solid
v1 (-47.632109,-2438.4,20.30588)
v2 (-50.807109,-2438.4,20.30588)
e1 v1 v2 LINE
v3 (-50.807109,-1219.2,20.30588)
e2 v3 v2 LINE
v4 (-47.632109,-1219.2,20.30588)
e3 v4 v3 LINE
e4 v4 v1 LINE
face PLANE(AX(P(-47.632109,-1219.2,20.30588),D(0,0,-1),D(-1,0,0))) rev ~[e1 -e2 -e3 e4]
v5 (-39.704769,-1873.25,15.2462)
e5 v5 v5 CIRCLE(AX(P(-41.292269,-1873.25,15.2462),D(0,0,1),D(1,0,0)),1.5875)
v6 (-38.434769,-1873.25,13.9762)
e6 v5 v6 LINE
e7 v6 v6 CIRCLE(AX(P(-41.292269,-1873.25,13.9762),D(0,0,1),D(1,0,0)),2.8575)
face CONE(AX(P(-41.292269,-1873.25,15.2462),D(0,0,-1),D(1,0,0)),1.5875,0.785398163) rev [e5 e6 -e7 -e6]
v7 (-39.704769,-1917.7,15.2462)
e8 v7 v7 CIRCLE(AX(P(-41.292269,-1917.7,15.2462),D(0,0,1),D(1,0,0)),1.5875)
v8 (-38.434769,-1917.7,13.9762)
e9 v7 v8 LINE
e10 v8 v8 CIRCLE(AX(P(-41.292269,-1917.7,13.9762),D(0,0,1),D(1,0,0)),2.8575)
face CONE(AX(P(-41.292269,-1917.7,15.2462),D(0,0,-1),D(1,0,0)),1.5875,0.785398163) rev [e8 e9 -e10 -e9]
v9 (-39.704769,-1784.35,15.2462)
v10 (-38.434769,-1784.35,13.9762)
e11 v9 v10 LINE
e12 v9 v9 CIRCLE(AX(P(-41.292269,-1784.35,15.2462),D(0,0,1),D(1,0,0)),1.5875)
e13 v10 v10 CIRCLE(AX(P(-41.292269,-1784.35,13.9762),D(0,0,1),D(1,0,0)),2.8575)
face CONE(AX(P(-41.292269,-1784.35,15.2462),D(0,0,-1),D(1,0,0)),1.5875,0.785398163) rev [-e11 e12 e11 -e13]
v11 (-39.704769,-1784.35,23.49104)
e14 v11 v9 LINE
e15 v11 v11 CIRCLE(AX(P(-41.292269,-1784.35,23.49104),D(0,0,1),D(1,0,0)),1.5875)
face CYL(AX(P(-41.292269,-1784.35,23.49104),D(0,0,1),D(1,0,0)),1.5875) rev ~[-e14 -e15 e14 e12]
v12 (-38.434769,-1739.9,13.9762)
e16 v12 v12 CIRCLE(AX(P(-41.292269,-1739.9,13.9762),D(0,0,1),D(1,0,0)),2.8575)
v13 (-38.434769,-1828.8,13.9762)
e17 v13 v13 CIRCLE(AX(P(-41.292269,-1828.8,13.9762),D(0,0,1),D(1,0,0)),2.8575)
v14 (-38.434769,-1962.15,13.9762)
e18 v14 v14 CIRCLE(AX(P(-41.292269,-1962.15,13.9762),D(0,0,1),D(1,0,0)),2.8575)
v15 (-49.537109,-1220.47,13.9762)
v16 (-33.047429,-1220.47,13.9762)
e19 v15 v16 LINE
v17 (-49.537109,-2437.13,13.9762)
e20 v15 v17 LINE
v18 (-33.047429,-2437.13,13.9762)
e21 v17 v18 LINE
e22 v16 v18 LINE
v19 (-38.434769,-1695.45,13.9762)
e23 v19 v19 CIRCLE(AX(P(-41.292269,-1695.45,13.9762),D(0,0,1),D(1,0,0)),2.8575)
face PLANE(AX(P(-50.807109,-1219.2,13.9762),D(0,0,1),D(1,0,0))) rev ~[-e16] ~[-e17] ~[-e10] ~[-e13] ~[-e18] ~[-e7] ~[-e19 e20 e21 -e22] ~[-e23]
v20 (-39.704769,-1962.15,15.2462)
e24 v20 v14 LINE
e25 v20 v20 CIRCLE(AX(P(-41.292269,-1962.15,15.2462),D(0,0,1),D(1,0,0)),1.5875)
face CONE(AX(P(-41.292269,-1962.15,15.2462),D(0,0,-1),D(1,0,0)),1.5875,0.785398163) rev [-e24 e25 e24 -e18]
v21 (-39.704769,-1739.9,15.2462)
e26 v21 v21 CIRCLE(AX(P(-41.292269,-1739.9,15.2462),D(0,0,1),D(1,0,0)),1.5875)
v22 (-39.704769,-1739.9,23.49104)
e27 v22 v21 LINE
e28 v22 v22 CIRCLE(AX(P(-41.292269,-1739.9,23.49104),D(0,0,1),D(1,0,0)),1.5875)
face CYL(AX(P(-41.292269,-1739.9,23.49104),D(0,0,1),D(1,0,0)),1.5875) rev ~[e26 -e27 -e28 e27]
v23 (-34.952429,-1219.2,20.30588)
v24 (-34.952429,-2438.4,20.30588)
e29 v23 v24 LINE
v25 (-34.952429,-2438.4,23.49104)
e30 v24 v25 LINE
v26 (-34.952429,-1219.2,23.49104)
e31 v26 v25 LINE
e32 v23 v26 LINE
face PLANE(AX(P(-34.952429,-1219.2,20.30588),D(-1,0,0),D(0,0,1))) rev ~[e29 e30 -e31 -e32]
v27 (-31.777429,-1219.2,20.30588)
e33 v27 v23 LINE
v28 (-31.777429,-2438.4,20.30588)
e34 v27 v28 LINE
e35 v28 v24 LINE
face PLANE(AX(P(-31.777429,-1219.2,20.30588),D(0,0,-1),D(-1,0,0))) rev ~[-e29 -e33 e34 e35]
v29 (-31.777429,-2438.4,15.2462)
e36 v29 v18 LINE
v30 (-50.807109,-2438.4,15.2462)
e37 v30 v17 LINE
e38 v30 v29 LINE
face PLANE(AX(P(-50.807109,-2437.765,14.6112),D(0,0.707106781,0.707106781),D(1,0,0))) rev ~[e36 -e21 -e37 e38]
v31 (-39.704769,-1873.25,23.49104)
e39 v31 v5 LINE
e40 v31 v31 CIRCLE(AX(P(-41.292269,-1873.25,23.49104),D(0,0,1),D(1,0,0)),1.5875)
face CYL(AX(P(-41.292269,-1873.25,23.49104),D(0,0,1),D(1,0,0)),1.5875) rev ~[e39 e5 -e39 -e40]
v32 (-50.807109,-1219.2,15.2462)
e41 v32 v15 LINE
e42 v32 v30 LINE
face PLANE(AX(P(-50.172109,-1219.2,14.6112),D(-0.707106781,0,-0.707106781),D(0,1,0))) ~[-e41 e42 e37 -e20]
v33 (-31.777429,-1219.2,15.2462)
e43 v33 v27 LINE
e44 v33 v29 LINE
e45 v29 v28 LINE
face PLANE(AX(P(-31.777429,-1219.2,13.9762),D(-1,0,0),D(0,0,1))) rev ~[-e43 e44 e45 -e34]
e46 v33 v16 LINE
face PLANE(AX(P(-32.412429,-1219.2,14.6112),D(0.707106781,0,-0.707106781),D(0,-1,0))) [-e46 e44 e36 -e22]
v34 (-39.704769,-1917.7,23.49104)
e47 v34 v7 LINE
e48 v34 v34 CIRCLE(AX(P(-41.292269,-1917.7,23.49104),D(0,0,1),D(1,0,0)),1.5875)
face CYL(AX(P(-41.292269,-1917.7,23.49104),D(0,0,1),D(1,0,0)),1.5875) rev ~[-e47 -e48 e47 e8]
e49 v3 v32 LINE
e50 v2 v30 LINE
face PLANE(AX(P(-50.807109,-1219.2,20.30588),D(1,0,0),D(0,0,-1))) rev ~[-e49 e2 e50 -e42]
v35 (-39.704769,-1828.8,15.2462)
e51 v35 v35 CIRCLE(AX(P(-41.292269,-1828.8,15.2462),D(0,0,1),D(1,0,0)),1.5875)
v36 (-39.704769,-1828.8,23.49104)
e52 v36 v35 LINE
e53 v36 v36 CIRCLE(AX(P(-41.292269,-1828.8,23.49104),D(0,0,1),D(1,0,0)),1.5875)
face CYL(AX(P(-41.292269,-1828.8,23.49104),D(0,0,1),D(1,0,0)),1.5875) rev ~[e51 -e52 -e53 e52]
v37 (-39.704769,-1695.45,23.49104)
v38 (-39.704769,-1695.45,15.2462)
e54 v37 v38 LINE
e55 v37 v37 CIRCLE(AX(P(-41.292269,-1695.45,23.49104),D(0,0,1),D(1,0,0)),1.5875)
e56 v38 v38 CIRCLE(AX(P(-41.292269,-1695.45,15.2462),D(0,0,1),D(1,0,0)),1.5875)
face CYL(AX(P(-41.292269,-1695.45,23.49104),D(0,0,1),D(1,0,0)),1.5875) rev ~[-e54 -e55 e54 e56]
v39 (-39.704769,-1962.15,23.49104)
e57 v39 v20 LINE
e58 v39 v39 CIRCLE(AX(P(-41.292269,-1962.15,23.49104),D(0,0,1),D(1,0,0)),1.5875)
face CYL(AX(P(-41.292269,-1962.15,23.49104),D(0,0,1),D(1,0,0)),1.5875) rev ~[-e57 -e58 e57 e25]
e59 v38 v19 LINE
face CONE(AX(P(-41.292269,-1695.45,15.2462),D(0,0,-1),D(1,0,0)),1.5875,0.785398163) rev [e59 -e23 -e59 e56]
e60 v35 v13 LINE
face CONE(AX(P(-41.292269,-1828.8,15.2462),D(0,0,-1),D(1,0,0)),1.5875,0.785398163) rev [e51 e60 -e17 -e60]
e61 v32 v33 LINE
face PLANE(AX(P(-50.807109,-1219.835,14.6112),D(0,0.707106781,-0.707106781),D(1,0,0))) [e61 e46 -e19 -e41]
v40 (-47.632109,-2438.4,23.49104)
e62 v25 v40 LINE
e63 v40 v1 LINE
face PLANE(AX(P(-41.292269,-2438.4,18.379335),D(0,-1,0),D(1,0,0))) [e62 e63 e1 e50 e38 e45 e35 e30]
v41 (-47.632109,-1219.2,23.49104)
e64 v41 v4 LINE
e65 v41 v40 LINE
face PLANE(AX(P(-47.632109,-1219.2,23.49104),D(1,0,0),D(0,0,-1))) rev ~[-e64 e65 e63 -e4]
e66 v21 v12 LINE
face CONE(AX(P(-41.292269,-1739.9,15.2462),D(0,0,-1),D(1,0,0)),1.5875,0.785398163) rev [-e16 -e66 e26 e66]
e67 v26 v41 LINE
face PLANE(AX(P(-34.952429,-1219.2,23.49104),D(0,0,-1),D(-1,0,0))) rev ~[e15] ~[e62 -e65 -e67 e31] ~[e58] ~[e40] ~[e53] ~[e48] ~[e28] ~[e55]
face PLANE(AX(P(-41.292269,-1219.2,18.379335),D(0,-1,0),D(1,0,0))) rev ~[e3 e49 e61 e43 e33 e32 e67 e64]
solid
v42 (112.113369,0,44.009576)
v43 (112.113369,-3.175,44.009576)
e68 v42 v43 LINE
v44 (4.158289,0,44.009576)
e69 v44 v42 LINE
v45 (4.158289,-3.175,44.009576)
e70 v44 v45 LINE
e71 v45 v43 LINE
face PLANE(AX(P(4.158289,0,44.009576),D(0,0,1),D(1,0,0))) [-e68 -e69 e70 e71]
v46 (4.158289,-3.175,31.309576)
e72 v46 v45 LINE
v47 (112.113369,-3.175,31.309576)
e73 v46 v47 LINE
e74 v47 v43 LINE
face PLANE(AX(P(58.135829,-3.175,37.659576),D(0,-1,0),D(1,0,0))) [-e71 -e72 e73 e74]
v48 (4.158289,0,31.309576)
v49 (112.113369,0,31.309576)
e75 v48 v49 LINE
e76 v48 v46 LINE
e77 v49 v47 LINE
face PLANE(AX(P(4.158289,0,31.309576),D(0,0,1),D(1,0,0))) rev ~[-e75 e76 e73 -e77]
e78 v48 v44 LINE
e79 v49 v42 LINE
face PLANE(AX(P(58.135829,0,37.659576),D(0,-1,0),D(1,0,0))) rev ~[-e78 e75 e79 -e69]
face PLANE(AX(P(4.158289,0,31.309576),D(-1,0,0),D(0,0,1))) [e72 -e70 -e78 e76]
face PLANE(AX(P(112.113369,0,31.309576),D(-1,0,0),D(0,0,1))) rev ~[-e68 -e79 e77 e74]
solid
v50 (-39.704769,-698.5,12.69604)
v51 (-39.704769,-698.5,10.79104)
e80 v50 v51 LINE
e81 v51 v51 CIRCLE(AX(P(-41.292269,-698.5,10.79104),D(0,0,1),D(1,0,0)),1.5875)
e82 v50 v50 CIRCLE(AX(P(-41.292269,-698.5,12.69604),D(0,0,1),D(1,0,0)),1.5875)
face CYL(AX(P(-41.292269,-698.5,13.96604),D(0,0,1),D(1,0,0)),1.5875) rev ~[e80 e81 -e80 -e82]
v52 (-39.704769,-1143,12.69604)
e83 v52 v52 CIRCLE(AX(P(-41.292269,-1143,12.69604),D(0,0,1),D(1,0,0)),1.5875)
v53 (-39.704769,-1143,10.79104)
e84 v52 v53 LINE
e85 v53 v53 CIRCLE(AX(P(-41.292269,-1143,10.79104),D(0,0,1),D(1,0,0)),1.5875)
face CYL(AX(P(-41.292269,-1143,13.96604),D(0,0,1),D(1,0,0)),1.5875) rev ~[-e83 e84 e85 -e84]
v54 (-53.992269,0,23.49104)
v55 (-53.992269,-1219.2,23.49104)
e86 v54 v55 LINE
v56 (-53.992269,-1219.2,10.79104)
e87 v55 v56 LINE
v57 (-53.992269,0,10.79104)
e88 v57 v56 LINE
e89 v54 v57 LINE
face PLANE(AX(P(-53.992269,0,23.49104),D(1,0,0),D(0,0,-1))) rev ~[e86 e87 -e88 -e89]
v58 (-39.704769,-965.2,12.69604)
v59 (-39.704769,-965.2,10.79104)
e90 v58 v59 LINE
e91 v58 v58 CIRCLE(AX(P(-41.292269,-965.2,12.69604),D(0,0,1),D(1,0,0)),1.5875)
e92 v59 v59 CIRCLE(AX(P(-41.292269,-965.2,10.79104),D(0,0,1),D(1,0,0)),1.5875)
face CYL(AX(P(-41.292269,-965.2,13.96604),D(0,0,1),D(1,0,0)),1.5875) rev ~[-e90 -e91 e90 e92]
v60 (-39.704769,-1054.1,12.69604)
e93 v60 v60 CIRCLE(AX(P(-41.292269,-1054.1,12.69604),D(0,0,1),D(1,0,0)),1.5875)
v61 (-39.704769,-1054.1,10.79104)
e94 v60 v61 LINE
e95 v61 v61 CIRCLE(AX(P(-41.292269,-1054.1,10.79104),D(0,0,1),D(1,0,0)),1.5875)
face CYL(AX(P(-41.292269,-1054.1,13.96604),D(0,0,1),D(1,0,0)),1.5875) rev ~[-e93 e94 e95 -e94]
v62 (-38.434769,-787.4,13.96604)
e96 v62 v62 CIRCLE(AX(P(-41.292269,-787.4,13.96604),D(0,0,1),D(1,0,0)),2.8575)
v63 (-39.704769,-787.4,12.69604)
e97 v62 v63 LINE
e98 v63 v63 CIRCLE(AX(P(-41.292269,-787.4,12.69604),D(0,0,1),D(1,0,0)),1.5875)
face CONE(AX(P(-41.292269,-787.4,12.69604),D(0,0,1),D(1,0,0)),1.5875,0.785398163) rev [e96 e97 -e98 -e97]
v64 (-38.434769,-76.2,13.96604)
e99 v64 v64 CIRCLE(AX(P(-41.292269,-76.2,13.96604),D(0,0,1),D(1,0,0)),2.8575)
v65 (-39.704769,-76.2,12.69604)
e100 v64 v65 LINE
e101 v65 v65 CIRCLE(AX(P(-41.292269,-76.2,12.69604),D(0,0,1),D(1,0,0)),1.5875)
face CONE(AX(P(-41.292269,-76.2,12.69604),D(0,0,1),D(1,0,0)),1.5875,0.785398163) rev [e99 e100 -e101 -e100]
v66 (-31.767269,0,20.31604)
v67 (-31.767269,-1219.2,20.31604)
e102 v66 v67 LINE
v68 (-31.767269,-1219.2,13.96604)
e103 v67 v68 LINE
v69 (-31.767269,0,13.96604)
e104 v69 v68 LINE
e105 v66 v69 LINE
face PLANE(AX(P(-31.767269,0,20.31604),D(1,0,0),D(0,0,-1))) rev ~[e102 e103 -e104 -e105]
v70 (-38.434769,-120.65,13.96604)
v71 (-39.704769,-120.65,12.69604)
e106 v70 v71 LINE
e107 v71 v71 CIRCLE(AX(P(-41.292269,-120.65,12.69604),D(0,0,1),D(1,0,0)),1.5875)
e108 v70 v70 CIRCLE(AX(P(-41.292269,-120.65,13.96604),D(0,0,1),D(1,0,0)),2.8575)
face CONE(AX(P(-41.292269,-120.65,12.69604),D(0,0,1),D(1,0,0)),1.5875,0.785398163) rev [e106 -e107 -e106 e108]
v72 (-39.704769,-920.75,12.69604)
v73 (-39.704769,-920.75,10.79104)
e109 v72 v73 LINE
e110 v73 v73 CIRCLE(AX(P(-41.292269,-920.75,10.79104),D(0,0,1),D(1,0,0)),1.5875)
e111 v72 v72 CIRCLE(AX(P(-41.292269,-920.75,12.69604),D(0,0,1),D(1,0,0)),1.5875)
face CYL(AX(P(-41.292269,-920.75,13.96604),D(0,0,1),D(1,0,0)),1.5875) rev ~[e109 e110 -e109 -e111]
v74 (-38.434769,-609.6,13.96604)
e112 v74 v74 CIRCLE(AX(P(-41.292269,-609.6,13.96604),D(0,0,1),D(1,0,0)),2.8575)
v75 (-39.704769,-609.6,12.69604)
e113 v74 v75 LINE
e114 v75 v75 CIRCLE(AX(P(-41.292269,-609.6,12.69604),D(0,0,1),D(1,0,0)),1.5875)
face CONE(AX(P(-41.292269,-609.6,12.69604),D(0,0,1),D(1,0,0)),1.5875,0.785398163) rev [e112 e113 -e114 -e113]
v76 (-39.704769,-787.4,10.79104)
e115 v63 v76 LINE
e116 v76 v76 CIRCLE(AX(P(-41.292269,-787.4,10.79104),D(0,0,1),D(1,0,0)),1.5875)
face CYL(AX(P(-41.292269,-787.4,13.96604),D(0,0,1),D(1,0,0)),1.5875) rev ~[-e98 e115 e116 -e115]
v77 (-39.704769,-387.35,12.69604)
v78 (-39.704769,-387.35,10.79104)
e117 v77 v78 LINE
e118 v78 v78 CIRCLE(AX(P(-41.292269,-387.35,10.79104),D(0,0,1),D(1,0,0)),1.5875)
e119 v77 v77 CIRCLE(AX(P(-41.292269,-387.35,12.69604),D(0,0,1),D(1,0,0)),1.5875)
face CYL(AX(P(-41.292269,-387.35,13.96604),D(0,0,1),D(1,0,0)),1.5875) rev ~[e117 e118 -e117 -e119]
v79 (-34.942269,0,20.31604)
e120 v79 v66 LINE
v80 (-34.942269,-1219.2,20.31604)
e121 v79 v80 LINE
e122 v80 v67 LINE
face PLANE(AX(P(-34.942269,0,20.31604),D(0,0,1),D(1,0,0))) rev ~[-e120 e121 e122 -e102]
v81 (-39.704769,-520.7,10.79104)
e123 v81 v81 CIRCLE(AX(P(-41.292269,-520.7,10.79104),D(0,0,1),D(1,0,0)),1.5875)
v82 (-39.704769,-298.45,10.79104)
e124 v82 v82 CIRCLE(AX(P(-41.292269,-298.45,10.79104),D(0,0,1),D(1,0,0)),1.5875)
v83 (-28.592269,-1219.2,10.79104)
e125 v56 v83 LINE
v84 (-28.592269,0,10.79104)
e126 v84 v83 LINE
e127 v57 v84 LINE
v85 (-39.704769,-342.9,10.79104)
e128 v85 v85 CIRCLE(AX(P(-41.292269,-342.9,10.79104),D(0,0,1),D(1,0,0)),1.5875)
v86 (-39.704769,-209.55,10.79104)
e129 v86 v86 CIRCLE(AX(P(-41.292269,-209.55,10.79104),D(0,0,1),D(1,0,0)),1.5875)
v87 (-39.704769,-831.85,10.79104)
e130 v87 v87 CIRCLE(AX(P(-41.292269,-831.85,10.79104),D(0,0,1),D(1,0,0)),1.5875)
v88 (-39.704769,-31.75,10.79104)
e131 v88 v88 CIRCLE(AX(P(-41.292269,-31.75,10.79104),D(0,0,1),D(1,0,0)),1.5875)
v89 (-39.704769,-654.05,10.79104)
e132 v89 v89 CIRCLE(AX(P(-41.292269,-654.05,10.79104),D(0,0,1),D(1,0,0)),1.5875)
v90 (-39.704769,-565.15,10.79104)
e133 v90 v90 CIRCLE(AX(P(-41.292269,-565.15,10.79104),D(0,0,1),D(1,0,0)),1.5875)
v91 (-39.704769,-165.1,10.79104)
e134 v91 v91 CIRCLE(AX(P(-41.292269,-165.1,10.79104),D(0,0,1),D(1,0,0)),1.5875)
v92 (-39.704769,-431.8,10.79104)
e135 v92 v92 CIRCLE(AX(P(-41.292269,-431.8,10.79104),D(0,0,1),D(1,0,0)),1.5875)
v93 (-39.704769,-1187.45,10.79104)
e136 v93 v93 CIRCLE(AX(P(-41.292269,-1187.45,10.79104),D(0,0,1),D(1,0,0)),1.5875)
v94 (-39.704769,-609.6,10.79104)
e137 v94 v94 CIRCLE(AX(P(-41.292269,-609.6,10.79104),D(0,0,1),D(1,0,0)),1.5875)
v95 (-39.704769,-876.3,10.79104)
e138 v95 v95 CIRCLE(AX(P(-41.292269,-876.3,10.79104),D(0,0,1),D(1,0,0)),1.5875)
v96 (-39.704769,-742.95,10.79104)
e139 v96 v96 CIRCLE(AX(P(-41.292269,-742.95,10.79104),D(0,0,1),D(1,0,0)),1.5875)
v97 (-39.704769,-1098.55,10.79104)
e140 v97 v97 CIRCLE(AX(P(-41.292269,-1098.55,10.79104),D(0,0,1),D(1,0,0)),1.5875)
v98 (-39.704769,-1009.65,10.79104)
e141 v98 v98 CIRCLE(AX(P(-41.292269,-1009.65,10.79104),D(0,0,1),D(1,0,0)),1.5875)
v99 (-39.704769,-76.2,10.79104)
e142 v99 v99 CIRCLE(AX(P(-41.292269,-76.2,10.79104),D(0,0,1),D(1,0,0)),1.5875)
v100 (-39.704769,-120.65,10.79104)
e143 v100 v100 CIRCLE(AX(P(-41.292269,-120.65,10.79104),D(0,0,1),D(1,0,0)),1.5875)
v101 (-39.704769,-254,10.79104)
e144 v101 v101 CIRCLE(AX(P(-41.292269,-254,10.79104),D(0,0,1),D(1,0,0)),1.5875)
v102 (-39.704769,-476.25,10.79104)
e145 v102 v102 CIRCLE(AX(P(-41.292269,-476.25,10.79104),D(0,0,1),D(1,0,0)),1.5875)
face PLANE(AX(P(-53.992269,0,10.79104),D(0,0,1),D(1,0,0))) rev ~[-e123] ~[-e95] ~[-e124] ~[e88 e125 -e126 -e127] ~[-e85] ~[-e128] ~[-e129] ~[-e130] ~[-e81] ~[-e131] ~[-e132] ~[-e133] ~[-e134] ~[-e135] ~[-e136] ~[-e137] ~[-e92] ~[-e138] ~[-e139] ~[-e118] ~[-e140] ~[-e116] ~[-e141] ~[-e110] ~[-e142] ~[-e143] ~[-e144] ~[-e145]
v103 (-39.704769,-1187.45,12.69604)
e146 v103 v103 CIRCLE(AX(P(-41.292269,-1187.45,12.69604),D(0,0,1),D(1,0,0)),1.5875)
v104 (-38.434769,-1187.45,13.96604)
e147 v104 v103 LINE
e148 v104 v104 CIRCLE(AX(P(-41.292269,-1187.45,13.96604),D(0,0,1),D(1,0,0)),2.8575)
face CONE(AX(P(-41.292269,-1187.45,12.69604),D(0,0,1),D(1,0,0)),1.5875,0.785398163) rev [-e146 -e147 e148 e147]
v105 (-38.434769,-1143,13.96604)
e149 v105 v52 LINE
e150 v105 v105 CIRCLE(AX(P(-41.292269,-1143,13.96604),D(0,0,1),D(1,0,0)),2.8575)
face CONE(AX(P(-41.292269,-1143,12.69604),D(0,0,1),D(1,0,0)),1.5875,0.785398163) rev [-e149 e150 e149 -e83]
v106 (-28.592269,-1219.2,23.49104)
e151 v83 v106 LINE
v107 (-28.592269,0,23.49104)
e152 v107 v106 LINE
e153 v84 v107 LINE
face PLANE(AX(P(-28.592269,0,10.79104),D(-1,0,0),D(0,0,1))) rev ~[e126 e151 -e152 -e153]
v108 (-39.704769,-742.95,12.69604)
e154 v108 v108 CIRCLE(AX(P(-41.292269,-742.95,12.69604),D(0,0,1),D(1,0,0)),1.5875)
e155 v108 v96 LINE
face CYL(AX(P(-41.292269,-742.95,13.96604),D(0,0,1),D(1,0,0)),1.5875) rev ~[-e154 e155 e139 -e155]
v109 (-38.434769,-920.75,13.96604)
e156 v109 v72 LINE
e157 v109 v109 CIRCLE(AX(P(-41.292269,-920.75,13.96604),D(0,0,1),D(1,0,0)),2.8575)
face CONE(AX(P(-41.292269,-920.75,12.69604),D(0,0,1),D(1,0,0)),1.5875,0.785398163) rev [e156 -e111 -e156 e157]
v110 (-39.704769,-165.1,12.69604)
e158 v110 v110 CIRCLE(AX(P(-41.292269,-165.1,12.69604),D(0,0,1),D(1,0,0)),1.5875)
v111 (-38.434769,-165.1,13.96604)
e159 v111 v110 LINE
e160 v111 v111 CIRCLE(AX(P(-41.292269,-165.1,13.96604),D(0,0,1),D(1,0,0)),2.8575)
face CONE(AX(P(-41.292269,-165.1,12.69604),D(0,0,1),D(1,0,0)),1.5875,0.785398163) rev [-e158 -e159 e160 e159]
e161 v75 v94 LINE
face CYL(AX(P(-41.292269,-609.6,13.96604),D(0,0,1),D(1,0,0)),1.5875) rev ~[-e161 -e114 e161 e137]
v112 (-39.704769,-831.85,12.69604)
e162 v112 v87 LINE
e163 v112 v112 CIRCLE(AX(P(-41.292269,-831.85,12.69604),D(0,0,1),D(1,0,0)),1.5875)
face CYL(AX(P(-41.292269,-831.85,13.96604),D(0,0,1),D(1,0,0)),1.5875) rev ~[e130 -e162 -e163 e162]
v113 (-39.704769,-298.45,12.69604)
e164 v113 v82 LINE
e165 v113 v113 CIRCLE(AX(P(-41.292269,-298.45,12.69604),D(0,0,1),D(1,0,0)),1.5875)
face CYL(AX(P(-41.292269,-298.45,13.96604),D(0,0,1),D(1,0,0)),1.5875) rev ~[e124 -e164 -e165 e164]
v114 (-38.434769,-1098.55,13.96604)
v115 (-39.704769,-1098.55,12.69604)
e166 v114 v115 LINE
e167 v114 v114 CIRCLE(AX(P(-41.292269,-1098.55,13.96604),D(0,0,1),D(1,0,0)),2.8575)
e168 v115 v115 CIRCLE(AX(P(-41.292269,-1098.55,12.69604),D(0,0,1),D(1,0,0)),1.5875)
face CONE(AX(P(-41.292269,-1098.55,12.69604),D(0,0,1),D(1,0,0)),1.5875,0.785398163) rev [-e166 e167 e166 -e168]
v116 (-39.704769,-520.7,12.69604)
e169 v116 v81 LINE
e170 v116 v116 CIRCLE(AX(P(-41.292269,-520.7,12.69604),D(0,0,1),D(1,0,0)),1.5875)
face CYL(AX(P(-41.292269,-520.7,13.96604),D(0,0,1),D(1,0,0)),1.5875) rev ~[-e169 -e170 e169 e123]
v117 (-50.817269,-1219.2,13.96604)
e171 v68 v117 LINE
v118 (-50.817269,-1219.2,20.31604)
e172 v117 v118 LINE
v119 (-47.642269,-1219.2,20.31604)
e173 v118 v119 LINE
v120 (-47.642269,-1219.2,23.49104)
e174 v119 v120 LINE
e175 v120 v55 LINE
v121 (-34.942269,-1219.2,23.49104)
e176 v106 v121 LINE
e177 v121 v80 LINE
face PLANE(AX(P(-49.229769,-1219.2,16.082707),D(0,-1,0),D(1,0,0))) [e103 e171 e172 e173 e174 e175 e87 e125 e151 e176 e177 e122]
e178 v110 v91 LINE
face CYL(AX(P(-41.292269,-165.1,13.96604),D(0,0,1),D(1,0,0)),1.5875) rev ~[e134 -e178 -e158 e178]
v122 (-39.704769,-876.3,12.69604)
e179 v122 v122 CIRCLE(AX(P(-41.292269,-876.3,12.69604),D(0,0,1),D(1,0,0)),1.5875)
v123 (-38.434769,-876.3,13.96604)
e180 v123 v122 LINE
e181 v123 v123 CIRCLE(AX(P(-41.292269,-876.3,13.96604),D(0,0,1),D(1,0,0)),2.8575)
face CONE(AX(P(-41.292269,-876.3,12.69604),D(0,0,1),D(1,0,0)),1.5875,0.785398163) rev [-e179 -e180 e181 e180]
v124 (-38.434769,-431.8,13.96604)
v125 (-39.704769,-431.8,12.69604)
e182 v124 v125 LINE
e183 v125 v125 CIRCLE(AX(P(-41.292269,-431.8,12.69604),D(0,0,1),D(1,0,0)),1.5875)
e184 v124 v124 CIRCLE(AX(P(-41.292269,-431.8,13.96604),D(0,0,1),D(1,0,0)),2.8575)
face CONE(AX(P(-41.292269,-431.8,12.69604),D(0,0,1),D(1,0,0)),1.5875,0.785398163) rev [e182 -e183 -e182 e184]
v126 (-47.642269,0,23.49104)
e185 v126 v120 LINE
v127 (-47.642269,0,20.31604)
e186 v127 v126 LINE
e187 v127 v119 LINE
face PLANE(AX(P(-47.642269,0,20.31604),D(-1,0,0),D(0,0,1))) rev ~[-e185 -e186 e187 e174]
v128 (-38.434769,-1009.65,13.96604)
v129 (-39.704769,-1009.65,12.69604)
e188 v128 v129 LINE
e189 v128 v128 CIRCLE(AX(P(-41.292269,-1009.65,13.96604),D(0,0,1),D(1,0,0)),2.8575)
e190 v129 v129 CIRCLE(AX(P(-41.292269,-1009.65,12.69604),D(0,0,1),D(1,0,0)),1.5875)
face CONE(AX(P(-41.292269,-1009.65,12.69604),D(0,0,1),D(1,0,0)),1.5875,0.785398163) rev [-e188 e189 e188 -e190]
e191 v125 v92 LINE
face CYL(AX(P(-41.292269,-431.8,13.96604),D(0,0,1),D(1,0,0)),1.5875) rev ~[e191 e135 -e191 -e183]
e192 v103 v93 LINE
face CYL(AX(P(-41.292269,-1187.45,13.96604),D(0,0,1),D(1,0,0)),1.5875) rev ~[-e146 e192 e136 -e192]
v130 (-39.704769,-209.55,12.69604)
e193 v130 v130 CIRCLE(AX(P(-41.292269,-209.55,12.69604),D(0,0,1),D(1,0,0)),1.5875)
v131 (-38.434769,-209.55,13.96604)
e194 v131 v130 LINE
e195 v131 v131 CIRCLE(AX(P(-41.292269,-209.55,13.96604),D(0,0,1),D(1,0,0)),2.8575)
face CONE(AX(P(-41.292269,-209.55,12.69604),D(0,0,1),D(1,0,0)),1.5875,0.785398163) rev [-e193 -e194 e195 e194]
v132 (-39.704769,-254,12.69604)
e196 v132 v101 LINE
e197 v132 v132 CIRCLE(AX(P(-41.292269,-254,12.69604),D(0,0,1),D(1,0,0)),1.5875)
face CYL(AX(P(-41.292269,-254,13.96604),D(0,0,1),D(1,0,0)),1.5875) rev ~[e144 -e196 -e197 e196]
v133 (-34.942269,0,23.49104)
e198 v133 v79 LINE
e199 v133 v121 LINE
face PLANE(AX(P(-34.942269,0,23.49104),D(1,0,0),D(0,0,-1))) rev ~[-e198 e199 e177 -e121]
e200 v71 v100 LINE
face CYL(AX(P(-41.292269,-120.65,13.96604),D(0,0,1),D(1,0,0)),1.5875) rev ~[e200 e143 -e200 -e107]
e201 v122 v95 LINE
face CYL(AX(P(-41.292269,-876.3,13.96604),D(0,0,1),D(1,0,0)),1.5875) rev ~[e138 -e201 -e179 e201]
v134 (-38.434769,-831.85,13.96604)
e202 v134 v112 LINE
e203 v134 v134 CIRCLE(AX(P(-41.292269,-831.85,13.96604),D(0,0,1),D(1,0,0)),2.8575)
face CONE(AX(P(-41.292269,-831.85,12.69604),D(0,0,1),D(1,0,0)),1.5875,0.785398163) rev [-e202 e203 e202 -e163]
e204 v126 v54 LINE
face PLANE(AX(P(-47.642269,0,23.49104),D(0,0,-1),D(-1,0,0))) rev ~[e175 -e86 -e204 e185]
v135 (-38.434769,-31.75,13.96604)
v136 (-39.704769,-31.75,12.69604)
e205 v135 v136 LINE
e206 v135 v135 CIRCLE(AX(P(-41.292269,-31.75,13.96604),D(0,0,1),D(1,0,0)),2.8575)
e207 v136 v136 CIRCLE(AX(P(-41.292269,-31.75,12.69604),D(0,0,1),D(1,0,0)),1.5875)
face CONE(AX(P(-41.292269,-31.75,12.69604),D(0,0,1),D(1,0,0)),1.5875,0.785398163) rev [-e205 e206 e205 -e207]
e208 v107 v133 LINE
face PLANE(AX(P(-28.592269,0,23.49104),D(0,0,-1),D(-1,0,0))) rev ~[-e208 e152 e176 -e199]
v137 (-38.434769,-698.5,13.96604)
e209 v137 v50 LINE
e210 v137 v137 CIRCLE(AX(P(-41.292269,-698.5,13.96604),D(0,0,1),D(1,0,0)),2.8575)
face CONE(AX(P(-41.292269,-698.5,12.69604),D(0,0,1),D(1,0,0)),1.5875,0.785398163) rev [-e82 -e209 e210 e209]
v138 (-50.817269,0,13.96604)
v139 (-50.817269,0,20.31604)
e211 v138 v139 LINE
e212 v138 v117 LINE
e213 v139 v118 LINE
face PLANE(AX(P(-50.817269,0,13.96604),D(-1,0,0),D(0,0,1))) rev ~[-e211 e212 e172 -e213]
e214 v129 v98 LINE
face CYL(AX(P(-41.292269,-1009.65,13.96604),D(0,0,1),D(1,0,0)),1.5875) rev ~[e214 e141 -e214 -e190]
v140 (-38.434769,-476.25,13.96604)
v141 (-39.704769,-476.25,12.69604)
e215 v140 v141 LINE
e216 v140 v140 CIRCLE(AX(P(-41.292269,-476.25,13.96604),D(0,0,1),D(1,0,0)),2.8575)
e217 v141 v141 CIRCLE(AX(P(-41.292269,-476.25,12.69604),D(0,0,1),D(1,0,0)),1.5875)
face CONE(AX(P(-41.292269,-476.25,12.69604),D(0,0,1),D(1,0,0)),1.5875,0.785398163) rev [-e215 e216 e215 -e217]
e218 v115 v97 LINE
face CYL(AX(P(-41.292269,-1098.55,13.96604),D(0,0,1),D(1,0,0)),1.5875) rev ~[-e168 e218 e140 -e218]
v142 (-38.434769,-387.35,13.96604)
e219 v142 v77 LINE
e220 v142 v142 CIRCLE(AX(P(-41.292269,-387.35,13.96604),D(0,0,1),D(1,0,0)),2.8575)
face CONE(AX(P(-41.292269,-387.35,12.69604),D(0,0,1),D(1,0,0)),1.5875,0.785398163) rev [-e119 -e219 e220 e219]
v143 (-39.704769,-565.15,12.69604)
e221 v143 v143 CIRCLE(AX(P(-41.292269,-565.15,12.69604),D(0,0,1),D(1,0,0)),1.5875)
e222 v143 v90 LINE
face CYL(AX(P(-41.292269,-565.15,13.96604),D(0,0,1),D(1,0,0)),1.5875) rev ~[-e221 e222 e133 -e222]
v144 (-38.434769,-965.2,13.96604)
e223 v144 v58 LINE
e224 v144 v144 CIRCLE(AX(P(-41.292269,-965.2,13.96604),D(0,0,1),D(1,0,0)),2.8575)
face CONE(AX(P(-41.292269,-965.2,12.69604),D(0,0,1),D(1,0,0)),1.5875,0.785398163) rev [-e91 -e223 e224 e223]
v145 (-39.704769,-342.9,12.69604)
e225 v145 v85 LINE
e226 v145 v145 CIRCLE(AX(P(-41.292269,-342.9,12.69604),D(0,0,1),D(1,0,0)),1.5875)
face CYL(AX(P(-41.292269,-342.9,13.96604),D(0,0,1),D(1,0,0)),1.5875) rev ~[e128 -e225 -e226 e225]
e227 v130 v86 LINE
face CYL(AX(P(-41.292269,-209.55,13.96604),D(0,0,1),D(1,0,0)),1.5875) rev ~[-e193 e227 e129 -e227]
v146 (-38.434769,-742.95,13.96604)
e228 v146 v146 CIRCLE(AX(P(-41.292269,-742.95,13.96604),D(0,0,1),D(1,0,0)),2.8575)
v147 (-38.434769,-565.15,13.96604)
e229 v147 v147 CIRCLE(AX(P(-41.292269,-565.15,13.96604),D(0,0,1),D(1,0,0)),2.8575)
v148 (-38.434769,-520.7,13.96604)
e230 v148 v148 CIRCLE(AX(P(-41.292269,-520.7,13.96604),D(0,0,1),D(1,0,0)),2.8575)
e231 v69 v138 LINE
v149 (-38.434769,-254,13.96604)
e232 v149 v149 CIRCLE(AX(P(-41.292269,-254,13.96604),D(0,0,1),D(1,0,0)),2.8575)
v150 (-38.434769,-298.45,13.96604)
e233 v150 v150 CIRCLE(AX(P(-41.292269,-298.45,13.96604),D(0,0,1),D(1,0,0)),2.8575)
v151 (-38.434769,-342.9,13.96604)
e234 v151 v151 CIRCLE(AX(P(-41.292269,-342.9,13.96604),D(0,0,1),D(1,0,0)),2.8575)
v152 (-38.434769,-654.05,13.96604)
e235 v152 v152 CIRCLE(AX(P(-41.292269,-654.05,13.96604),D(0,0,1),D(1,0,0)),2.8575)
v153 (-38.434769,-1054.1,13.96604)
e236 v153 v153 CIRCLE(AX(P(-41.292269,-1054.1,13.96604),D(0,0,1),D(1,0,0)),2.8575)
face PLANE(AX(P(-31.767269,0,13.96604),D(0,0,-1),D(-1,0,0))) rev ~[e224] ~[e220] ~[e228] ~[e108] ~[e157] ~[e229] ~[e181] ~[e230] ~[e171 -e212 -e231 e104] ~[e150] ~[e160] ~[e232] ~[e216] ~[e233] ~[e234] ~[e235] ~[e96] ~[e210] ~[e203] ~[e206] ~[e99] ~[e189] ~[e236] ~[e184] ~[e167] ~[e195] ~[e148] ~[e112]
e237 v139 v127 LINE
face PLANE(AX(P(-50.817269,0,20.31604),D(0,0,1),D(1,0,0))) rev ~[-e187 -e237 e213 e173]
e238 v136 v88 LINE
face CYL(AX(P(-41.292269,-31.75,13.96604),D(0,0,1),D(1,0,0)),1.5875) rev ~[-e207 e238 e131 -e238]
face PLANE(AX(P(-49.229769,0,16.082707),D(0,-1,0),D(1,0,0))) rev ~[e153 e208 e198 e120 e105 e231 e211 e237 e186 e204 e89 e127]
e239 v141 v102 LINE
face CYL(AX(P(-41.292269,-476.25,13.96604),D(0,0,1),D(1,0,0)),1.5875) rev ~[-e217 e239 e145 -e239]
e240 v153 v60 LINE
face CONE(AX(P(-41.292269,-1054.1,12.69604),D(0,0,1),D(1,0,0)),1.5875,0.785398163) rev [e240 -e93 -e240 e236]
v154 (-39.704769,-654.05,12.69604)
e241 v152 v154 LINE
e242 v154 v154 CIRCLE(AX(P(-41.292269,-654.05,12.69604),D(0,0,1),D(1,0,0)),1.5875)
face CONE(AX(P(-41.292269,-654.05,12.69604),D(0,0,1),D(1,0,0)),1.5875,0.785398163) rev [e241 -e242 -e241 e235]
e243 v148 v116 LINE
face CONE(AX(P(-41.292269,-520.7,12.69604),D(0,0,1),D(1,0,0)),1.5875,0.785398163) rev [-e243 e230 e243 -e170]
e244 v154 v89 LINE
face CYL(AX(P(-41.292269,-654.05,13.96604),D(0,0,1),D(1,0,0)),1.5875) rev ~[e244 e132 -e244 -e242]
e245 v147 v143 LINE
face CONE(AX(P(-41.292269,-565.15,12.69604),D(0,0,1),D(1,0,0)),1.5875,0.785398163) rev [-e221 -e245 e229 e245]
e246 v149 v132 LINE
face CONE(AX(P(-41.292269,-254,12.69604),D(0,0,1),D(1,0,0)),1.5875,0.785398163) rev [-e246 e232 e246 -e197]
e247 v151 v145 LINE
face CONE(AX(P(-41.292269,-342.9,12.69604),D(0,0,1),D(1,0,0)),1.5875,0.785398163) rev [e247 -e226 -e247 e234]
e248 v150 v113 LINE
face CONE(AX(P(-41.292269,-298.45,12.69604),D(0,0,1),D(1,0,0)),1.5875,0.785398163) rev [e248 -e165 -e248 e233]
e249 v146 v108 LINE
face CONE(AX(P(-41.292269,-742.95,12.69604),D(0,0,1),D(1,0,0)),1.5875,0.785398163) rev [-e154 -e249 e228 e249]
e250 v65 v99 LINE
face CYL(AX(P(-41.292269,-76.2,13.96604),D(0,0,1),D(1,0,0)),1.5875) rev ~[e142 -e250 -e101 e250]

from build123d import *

# Parameters (mm, degrees)
F1_DEPTH  = 1219.2
F3_DEPTH  = 1219.2
F4_R      = 1.5875
F5_DEPTH  = 12.701
F6_R      = 1.5875
F7_DEPTH  = 3.176
F8_SIZE   = 1.27
F8_2_SIZE = 1.27
F9_W      = 107.95508
F9_H      = 12.7
F10_DEPTH = 3.175


with BuildPart() as f1:
    # F0 (on Front) → F1 (new body)
    with BuildSketch(Plane.XZ):
        Polygon((-47.642269, 20.31604), (-47.642269, 23.49104), (-53.992269, 23.49104), (-53.992269, 10.79104), (-41.292269, 10.79104), (-41.292269, 13.96604), (-50.817269, 13.96604), (-50.817269, 20.31604), align=None)
        Polygon((-41.292269, 13.96604), (-41.292269, 10.79104), (-28.592269, 10.79104), (-28.592269, 23.49104), (-34.942269, 23.49104), (-34.942269, 20.31604), (-31.767269, 20.31604), (-31.767269, 13.96604), align=None)
    extrude(amount=F1_DEPTH)

    # F6 (on face) → F7 (cut, through all)
    with BuildSketch(Plane.XY.offset(13.96604)):
        with Locations((-41.292269, -742.95)):
            Circle(F6_R)
        with Locations((-41.292269, -698.5)):
            Circle(F6_R)
        with Locations((-41.292269, -654.05)):
            Circle(F6_R)
        with Locations((-41.292269, -609.6)):
            Circle(F6_R)
        with Locations((-41.292269, -565.15)):
            Circle(F6_R)
        with Locations((-41.292269, -520.7)):
            Circle(F6_R)
        with Locations((-41.292269, -476.25)):
            Circle(F6_R)
        with Locations((-41.292269, -787.4)):
            Circle(F6_R)
        with Locations((-41.292269, -831.85)):
            Circle(F6_R)
        with Locations((-41.292269, -876.3)):
            Circle(F6_R)
        with Locations((-41.292269, -920.75)):
            Circle(F6_R)
        with Locations((-41.292269, -965.2)):
            Circle(F6_R)
        with Locations((-41.292269, -1009.65)):
            Circle(F6_R)
        with Locations((-41.292269, -1054.1)):
            Circle(F6_R)
        with Locations((-41.292269, -1098.55)):
            Circle(F6_R)
        with Locations((-41.292269, -1143)):
            Circle(F6_R)
        with Locations((-41.292269, -1187.45)):
            Circle(F6_R)
        with Locations((-41.292269, -431.8)):
            Circle(F6_R)
        with Locations((-41.292269, -387.35)):
            Circle(F6_R)
        with Locations((-41.292269, -342.9)):
            Circle(F6_R)
        with Locations((-41.292269, -298.45)):
            Circle(F6_R)
        with Locations((-41.292269, -254)):
            Circle(F6_R)
        with Locations((-41.292269, -209.55)):
            Circle(F6_R)
        with Locations((-41.292269, -165.1)):
            Circle(F6_R)
        with Locations((-41.292269, -120.65)):
            Circle(F6_R)
        with Locations((-41.292269, -76.2)):
            Circle(F6_R)
        with Locations((-41.292269, -31.75)):
            Circle(F6_R)
    extrude(amount=-F7_DEPTH, mode=Mode.SUBTRACT)

    # F8
    f8_edges = [f1.edges().sort_by_distance(p)[0] for p in [
        (-42.879769, -742.95, 13.96604),
        (-42.879769, -698.5, 13.96604),
        (-42.879769, -654.05, 13.96604),
        (-42.879769, -609.6, 13.96604),
        (-42.879769, -565.15, 13.96604),
        (-42.879769, -520.7, 13.96604),
        (-42.879769, -476.25, 13.96604),
        (-42.879769, -1187.45, 13.96604),
        (-42.879769, -1143, 13.96604),
        (-42.879769, -1098.55, 13.96604),
        (-42.879769, -1054.1, 13.96604),
        (-42.879769, -1009.65, 13.96604),
        (-42.879769, -965.2, 13.96604),
        (-42.879769, -920.75, 13.96604),
        (-42.879769, -876.3, 13.96604),
        (-42.879769, -831.85, 13.96604),
        (-42.879769, -787.4, 13.96604),
        (-42.879769, -31.75, 13.96604),
        (-42.879769, -76.2, 13.96604),
        (-42.879769, -120.65, 13.96604),
        (-42.879769, -165.1, 13.96604),
        (-42.879769, -209.55, 13.96604),
        (-42.879769, -254, 13.96604),
        (-42.879769, -342.9, 13.96604),
        (-42.879769, -298.45, 13.96604),
        (-42.879769, -431.8, 13.96604),
        (-42.879769, -387.35, 13.96604),
    ]]
    chamfer(f8_edges, length=F8_SIZE)


with BuildPart() as f3:
    # F2 (on face) → F3 (new body)
    with BuildSketch(Plane.XZ.offset(1219.2)):
        Polygon((-34.952429, 20.30588), (-34.952429, 23.49104), (-47.632109, 23.49104), (-47.632109, 20.30588), (-50.807109, 20.30588), (-50.807109, 13.9762), (-41.292269, 13.9762), (-31.777429, 13.9762), (-31.777429, 20.30588), align=None)
    extrude(amount=F3_DEPTH)

    # F4 (on face) → F5 (cut, through all)
    with BuildSketch(Plane.XY.offset(23.49104)):
        with Locations((-41.292269, -1962.15)):
            Circle(F4_R)
        with Locations((-41.292269, -1917.7)):
            Circle(F4_R)
        with Locations((-41.292269, -1873.25)):
            Circle(F4_R)
        with Locations((-41.292269, -1828.8)):
            Circle(F4_R)
        with Locations((-41.292269, -1784.35)):
            Circle(F4_R)
        with Locations((-41.292269, -1739.9)):
            Circle(F4_R)
        with Locations((-41.292269, -1695.45)):
            Circle(F4_R)
    extrude(amount=-F5_DEPTH, mode=Mode.SUBTRACT)

    # F8#2
    f8_2_edges = [f3.edges().sort_by_distance(p)[0] for p in [
        (-42.879769, -1695.45, 13.9762),
        (-50.807109, -1828.8, 13.9762),
        (-41.292269, -1219.2, 13.9762),
        (-41.292269, -2438.4, 13.9762),
        (-31.777429, -1828.8, 13.9762),
        (-42.879769, -1873.25, 13.9762),
        (-42.879769, -1962.15, 13.9762),
        (-42.879769, -1917.7, 13.9762),
        (-42.879769, -1828.8, 13.9762),
        (-42.879769, -1784.35, 13.9762),
        (-42.879769, -1739.9, 13.9762),
    ]]
    chamfer(f8_2_edges, length=F8_2_SIZE)


with BuildPart() as f10:
    # F9 (on Front) → F10 (new body)
    with BuildSketch(Plane.XZ):
        with Locations((58.135829, 37.659576)):
            Rectangle(F9_W, F9_H)
    extrude(amount=F10_DEPTH)


solid = Compound([f1.part, f3.part, f10.part])
